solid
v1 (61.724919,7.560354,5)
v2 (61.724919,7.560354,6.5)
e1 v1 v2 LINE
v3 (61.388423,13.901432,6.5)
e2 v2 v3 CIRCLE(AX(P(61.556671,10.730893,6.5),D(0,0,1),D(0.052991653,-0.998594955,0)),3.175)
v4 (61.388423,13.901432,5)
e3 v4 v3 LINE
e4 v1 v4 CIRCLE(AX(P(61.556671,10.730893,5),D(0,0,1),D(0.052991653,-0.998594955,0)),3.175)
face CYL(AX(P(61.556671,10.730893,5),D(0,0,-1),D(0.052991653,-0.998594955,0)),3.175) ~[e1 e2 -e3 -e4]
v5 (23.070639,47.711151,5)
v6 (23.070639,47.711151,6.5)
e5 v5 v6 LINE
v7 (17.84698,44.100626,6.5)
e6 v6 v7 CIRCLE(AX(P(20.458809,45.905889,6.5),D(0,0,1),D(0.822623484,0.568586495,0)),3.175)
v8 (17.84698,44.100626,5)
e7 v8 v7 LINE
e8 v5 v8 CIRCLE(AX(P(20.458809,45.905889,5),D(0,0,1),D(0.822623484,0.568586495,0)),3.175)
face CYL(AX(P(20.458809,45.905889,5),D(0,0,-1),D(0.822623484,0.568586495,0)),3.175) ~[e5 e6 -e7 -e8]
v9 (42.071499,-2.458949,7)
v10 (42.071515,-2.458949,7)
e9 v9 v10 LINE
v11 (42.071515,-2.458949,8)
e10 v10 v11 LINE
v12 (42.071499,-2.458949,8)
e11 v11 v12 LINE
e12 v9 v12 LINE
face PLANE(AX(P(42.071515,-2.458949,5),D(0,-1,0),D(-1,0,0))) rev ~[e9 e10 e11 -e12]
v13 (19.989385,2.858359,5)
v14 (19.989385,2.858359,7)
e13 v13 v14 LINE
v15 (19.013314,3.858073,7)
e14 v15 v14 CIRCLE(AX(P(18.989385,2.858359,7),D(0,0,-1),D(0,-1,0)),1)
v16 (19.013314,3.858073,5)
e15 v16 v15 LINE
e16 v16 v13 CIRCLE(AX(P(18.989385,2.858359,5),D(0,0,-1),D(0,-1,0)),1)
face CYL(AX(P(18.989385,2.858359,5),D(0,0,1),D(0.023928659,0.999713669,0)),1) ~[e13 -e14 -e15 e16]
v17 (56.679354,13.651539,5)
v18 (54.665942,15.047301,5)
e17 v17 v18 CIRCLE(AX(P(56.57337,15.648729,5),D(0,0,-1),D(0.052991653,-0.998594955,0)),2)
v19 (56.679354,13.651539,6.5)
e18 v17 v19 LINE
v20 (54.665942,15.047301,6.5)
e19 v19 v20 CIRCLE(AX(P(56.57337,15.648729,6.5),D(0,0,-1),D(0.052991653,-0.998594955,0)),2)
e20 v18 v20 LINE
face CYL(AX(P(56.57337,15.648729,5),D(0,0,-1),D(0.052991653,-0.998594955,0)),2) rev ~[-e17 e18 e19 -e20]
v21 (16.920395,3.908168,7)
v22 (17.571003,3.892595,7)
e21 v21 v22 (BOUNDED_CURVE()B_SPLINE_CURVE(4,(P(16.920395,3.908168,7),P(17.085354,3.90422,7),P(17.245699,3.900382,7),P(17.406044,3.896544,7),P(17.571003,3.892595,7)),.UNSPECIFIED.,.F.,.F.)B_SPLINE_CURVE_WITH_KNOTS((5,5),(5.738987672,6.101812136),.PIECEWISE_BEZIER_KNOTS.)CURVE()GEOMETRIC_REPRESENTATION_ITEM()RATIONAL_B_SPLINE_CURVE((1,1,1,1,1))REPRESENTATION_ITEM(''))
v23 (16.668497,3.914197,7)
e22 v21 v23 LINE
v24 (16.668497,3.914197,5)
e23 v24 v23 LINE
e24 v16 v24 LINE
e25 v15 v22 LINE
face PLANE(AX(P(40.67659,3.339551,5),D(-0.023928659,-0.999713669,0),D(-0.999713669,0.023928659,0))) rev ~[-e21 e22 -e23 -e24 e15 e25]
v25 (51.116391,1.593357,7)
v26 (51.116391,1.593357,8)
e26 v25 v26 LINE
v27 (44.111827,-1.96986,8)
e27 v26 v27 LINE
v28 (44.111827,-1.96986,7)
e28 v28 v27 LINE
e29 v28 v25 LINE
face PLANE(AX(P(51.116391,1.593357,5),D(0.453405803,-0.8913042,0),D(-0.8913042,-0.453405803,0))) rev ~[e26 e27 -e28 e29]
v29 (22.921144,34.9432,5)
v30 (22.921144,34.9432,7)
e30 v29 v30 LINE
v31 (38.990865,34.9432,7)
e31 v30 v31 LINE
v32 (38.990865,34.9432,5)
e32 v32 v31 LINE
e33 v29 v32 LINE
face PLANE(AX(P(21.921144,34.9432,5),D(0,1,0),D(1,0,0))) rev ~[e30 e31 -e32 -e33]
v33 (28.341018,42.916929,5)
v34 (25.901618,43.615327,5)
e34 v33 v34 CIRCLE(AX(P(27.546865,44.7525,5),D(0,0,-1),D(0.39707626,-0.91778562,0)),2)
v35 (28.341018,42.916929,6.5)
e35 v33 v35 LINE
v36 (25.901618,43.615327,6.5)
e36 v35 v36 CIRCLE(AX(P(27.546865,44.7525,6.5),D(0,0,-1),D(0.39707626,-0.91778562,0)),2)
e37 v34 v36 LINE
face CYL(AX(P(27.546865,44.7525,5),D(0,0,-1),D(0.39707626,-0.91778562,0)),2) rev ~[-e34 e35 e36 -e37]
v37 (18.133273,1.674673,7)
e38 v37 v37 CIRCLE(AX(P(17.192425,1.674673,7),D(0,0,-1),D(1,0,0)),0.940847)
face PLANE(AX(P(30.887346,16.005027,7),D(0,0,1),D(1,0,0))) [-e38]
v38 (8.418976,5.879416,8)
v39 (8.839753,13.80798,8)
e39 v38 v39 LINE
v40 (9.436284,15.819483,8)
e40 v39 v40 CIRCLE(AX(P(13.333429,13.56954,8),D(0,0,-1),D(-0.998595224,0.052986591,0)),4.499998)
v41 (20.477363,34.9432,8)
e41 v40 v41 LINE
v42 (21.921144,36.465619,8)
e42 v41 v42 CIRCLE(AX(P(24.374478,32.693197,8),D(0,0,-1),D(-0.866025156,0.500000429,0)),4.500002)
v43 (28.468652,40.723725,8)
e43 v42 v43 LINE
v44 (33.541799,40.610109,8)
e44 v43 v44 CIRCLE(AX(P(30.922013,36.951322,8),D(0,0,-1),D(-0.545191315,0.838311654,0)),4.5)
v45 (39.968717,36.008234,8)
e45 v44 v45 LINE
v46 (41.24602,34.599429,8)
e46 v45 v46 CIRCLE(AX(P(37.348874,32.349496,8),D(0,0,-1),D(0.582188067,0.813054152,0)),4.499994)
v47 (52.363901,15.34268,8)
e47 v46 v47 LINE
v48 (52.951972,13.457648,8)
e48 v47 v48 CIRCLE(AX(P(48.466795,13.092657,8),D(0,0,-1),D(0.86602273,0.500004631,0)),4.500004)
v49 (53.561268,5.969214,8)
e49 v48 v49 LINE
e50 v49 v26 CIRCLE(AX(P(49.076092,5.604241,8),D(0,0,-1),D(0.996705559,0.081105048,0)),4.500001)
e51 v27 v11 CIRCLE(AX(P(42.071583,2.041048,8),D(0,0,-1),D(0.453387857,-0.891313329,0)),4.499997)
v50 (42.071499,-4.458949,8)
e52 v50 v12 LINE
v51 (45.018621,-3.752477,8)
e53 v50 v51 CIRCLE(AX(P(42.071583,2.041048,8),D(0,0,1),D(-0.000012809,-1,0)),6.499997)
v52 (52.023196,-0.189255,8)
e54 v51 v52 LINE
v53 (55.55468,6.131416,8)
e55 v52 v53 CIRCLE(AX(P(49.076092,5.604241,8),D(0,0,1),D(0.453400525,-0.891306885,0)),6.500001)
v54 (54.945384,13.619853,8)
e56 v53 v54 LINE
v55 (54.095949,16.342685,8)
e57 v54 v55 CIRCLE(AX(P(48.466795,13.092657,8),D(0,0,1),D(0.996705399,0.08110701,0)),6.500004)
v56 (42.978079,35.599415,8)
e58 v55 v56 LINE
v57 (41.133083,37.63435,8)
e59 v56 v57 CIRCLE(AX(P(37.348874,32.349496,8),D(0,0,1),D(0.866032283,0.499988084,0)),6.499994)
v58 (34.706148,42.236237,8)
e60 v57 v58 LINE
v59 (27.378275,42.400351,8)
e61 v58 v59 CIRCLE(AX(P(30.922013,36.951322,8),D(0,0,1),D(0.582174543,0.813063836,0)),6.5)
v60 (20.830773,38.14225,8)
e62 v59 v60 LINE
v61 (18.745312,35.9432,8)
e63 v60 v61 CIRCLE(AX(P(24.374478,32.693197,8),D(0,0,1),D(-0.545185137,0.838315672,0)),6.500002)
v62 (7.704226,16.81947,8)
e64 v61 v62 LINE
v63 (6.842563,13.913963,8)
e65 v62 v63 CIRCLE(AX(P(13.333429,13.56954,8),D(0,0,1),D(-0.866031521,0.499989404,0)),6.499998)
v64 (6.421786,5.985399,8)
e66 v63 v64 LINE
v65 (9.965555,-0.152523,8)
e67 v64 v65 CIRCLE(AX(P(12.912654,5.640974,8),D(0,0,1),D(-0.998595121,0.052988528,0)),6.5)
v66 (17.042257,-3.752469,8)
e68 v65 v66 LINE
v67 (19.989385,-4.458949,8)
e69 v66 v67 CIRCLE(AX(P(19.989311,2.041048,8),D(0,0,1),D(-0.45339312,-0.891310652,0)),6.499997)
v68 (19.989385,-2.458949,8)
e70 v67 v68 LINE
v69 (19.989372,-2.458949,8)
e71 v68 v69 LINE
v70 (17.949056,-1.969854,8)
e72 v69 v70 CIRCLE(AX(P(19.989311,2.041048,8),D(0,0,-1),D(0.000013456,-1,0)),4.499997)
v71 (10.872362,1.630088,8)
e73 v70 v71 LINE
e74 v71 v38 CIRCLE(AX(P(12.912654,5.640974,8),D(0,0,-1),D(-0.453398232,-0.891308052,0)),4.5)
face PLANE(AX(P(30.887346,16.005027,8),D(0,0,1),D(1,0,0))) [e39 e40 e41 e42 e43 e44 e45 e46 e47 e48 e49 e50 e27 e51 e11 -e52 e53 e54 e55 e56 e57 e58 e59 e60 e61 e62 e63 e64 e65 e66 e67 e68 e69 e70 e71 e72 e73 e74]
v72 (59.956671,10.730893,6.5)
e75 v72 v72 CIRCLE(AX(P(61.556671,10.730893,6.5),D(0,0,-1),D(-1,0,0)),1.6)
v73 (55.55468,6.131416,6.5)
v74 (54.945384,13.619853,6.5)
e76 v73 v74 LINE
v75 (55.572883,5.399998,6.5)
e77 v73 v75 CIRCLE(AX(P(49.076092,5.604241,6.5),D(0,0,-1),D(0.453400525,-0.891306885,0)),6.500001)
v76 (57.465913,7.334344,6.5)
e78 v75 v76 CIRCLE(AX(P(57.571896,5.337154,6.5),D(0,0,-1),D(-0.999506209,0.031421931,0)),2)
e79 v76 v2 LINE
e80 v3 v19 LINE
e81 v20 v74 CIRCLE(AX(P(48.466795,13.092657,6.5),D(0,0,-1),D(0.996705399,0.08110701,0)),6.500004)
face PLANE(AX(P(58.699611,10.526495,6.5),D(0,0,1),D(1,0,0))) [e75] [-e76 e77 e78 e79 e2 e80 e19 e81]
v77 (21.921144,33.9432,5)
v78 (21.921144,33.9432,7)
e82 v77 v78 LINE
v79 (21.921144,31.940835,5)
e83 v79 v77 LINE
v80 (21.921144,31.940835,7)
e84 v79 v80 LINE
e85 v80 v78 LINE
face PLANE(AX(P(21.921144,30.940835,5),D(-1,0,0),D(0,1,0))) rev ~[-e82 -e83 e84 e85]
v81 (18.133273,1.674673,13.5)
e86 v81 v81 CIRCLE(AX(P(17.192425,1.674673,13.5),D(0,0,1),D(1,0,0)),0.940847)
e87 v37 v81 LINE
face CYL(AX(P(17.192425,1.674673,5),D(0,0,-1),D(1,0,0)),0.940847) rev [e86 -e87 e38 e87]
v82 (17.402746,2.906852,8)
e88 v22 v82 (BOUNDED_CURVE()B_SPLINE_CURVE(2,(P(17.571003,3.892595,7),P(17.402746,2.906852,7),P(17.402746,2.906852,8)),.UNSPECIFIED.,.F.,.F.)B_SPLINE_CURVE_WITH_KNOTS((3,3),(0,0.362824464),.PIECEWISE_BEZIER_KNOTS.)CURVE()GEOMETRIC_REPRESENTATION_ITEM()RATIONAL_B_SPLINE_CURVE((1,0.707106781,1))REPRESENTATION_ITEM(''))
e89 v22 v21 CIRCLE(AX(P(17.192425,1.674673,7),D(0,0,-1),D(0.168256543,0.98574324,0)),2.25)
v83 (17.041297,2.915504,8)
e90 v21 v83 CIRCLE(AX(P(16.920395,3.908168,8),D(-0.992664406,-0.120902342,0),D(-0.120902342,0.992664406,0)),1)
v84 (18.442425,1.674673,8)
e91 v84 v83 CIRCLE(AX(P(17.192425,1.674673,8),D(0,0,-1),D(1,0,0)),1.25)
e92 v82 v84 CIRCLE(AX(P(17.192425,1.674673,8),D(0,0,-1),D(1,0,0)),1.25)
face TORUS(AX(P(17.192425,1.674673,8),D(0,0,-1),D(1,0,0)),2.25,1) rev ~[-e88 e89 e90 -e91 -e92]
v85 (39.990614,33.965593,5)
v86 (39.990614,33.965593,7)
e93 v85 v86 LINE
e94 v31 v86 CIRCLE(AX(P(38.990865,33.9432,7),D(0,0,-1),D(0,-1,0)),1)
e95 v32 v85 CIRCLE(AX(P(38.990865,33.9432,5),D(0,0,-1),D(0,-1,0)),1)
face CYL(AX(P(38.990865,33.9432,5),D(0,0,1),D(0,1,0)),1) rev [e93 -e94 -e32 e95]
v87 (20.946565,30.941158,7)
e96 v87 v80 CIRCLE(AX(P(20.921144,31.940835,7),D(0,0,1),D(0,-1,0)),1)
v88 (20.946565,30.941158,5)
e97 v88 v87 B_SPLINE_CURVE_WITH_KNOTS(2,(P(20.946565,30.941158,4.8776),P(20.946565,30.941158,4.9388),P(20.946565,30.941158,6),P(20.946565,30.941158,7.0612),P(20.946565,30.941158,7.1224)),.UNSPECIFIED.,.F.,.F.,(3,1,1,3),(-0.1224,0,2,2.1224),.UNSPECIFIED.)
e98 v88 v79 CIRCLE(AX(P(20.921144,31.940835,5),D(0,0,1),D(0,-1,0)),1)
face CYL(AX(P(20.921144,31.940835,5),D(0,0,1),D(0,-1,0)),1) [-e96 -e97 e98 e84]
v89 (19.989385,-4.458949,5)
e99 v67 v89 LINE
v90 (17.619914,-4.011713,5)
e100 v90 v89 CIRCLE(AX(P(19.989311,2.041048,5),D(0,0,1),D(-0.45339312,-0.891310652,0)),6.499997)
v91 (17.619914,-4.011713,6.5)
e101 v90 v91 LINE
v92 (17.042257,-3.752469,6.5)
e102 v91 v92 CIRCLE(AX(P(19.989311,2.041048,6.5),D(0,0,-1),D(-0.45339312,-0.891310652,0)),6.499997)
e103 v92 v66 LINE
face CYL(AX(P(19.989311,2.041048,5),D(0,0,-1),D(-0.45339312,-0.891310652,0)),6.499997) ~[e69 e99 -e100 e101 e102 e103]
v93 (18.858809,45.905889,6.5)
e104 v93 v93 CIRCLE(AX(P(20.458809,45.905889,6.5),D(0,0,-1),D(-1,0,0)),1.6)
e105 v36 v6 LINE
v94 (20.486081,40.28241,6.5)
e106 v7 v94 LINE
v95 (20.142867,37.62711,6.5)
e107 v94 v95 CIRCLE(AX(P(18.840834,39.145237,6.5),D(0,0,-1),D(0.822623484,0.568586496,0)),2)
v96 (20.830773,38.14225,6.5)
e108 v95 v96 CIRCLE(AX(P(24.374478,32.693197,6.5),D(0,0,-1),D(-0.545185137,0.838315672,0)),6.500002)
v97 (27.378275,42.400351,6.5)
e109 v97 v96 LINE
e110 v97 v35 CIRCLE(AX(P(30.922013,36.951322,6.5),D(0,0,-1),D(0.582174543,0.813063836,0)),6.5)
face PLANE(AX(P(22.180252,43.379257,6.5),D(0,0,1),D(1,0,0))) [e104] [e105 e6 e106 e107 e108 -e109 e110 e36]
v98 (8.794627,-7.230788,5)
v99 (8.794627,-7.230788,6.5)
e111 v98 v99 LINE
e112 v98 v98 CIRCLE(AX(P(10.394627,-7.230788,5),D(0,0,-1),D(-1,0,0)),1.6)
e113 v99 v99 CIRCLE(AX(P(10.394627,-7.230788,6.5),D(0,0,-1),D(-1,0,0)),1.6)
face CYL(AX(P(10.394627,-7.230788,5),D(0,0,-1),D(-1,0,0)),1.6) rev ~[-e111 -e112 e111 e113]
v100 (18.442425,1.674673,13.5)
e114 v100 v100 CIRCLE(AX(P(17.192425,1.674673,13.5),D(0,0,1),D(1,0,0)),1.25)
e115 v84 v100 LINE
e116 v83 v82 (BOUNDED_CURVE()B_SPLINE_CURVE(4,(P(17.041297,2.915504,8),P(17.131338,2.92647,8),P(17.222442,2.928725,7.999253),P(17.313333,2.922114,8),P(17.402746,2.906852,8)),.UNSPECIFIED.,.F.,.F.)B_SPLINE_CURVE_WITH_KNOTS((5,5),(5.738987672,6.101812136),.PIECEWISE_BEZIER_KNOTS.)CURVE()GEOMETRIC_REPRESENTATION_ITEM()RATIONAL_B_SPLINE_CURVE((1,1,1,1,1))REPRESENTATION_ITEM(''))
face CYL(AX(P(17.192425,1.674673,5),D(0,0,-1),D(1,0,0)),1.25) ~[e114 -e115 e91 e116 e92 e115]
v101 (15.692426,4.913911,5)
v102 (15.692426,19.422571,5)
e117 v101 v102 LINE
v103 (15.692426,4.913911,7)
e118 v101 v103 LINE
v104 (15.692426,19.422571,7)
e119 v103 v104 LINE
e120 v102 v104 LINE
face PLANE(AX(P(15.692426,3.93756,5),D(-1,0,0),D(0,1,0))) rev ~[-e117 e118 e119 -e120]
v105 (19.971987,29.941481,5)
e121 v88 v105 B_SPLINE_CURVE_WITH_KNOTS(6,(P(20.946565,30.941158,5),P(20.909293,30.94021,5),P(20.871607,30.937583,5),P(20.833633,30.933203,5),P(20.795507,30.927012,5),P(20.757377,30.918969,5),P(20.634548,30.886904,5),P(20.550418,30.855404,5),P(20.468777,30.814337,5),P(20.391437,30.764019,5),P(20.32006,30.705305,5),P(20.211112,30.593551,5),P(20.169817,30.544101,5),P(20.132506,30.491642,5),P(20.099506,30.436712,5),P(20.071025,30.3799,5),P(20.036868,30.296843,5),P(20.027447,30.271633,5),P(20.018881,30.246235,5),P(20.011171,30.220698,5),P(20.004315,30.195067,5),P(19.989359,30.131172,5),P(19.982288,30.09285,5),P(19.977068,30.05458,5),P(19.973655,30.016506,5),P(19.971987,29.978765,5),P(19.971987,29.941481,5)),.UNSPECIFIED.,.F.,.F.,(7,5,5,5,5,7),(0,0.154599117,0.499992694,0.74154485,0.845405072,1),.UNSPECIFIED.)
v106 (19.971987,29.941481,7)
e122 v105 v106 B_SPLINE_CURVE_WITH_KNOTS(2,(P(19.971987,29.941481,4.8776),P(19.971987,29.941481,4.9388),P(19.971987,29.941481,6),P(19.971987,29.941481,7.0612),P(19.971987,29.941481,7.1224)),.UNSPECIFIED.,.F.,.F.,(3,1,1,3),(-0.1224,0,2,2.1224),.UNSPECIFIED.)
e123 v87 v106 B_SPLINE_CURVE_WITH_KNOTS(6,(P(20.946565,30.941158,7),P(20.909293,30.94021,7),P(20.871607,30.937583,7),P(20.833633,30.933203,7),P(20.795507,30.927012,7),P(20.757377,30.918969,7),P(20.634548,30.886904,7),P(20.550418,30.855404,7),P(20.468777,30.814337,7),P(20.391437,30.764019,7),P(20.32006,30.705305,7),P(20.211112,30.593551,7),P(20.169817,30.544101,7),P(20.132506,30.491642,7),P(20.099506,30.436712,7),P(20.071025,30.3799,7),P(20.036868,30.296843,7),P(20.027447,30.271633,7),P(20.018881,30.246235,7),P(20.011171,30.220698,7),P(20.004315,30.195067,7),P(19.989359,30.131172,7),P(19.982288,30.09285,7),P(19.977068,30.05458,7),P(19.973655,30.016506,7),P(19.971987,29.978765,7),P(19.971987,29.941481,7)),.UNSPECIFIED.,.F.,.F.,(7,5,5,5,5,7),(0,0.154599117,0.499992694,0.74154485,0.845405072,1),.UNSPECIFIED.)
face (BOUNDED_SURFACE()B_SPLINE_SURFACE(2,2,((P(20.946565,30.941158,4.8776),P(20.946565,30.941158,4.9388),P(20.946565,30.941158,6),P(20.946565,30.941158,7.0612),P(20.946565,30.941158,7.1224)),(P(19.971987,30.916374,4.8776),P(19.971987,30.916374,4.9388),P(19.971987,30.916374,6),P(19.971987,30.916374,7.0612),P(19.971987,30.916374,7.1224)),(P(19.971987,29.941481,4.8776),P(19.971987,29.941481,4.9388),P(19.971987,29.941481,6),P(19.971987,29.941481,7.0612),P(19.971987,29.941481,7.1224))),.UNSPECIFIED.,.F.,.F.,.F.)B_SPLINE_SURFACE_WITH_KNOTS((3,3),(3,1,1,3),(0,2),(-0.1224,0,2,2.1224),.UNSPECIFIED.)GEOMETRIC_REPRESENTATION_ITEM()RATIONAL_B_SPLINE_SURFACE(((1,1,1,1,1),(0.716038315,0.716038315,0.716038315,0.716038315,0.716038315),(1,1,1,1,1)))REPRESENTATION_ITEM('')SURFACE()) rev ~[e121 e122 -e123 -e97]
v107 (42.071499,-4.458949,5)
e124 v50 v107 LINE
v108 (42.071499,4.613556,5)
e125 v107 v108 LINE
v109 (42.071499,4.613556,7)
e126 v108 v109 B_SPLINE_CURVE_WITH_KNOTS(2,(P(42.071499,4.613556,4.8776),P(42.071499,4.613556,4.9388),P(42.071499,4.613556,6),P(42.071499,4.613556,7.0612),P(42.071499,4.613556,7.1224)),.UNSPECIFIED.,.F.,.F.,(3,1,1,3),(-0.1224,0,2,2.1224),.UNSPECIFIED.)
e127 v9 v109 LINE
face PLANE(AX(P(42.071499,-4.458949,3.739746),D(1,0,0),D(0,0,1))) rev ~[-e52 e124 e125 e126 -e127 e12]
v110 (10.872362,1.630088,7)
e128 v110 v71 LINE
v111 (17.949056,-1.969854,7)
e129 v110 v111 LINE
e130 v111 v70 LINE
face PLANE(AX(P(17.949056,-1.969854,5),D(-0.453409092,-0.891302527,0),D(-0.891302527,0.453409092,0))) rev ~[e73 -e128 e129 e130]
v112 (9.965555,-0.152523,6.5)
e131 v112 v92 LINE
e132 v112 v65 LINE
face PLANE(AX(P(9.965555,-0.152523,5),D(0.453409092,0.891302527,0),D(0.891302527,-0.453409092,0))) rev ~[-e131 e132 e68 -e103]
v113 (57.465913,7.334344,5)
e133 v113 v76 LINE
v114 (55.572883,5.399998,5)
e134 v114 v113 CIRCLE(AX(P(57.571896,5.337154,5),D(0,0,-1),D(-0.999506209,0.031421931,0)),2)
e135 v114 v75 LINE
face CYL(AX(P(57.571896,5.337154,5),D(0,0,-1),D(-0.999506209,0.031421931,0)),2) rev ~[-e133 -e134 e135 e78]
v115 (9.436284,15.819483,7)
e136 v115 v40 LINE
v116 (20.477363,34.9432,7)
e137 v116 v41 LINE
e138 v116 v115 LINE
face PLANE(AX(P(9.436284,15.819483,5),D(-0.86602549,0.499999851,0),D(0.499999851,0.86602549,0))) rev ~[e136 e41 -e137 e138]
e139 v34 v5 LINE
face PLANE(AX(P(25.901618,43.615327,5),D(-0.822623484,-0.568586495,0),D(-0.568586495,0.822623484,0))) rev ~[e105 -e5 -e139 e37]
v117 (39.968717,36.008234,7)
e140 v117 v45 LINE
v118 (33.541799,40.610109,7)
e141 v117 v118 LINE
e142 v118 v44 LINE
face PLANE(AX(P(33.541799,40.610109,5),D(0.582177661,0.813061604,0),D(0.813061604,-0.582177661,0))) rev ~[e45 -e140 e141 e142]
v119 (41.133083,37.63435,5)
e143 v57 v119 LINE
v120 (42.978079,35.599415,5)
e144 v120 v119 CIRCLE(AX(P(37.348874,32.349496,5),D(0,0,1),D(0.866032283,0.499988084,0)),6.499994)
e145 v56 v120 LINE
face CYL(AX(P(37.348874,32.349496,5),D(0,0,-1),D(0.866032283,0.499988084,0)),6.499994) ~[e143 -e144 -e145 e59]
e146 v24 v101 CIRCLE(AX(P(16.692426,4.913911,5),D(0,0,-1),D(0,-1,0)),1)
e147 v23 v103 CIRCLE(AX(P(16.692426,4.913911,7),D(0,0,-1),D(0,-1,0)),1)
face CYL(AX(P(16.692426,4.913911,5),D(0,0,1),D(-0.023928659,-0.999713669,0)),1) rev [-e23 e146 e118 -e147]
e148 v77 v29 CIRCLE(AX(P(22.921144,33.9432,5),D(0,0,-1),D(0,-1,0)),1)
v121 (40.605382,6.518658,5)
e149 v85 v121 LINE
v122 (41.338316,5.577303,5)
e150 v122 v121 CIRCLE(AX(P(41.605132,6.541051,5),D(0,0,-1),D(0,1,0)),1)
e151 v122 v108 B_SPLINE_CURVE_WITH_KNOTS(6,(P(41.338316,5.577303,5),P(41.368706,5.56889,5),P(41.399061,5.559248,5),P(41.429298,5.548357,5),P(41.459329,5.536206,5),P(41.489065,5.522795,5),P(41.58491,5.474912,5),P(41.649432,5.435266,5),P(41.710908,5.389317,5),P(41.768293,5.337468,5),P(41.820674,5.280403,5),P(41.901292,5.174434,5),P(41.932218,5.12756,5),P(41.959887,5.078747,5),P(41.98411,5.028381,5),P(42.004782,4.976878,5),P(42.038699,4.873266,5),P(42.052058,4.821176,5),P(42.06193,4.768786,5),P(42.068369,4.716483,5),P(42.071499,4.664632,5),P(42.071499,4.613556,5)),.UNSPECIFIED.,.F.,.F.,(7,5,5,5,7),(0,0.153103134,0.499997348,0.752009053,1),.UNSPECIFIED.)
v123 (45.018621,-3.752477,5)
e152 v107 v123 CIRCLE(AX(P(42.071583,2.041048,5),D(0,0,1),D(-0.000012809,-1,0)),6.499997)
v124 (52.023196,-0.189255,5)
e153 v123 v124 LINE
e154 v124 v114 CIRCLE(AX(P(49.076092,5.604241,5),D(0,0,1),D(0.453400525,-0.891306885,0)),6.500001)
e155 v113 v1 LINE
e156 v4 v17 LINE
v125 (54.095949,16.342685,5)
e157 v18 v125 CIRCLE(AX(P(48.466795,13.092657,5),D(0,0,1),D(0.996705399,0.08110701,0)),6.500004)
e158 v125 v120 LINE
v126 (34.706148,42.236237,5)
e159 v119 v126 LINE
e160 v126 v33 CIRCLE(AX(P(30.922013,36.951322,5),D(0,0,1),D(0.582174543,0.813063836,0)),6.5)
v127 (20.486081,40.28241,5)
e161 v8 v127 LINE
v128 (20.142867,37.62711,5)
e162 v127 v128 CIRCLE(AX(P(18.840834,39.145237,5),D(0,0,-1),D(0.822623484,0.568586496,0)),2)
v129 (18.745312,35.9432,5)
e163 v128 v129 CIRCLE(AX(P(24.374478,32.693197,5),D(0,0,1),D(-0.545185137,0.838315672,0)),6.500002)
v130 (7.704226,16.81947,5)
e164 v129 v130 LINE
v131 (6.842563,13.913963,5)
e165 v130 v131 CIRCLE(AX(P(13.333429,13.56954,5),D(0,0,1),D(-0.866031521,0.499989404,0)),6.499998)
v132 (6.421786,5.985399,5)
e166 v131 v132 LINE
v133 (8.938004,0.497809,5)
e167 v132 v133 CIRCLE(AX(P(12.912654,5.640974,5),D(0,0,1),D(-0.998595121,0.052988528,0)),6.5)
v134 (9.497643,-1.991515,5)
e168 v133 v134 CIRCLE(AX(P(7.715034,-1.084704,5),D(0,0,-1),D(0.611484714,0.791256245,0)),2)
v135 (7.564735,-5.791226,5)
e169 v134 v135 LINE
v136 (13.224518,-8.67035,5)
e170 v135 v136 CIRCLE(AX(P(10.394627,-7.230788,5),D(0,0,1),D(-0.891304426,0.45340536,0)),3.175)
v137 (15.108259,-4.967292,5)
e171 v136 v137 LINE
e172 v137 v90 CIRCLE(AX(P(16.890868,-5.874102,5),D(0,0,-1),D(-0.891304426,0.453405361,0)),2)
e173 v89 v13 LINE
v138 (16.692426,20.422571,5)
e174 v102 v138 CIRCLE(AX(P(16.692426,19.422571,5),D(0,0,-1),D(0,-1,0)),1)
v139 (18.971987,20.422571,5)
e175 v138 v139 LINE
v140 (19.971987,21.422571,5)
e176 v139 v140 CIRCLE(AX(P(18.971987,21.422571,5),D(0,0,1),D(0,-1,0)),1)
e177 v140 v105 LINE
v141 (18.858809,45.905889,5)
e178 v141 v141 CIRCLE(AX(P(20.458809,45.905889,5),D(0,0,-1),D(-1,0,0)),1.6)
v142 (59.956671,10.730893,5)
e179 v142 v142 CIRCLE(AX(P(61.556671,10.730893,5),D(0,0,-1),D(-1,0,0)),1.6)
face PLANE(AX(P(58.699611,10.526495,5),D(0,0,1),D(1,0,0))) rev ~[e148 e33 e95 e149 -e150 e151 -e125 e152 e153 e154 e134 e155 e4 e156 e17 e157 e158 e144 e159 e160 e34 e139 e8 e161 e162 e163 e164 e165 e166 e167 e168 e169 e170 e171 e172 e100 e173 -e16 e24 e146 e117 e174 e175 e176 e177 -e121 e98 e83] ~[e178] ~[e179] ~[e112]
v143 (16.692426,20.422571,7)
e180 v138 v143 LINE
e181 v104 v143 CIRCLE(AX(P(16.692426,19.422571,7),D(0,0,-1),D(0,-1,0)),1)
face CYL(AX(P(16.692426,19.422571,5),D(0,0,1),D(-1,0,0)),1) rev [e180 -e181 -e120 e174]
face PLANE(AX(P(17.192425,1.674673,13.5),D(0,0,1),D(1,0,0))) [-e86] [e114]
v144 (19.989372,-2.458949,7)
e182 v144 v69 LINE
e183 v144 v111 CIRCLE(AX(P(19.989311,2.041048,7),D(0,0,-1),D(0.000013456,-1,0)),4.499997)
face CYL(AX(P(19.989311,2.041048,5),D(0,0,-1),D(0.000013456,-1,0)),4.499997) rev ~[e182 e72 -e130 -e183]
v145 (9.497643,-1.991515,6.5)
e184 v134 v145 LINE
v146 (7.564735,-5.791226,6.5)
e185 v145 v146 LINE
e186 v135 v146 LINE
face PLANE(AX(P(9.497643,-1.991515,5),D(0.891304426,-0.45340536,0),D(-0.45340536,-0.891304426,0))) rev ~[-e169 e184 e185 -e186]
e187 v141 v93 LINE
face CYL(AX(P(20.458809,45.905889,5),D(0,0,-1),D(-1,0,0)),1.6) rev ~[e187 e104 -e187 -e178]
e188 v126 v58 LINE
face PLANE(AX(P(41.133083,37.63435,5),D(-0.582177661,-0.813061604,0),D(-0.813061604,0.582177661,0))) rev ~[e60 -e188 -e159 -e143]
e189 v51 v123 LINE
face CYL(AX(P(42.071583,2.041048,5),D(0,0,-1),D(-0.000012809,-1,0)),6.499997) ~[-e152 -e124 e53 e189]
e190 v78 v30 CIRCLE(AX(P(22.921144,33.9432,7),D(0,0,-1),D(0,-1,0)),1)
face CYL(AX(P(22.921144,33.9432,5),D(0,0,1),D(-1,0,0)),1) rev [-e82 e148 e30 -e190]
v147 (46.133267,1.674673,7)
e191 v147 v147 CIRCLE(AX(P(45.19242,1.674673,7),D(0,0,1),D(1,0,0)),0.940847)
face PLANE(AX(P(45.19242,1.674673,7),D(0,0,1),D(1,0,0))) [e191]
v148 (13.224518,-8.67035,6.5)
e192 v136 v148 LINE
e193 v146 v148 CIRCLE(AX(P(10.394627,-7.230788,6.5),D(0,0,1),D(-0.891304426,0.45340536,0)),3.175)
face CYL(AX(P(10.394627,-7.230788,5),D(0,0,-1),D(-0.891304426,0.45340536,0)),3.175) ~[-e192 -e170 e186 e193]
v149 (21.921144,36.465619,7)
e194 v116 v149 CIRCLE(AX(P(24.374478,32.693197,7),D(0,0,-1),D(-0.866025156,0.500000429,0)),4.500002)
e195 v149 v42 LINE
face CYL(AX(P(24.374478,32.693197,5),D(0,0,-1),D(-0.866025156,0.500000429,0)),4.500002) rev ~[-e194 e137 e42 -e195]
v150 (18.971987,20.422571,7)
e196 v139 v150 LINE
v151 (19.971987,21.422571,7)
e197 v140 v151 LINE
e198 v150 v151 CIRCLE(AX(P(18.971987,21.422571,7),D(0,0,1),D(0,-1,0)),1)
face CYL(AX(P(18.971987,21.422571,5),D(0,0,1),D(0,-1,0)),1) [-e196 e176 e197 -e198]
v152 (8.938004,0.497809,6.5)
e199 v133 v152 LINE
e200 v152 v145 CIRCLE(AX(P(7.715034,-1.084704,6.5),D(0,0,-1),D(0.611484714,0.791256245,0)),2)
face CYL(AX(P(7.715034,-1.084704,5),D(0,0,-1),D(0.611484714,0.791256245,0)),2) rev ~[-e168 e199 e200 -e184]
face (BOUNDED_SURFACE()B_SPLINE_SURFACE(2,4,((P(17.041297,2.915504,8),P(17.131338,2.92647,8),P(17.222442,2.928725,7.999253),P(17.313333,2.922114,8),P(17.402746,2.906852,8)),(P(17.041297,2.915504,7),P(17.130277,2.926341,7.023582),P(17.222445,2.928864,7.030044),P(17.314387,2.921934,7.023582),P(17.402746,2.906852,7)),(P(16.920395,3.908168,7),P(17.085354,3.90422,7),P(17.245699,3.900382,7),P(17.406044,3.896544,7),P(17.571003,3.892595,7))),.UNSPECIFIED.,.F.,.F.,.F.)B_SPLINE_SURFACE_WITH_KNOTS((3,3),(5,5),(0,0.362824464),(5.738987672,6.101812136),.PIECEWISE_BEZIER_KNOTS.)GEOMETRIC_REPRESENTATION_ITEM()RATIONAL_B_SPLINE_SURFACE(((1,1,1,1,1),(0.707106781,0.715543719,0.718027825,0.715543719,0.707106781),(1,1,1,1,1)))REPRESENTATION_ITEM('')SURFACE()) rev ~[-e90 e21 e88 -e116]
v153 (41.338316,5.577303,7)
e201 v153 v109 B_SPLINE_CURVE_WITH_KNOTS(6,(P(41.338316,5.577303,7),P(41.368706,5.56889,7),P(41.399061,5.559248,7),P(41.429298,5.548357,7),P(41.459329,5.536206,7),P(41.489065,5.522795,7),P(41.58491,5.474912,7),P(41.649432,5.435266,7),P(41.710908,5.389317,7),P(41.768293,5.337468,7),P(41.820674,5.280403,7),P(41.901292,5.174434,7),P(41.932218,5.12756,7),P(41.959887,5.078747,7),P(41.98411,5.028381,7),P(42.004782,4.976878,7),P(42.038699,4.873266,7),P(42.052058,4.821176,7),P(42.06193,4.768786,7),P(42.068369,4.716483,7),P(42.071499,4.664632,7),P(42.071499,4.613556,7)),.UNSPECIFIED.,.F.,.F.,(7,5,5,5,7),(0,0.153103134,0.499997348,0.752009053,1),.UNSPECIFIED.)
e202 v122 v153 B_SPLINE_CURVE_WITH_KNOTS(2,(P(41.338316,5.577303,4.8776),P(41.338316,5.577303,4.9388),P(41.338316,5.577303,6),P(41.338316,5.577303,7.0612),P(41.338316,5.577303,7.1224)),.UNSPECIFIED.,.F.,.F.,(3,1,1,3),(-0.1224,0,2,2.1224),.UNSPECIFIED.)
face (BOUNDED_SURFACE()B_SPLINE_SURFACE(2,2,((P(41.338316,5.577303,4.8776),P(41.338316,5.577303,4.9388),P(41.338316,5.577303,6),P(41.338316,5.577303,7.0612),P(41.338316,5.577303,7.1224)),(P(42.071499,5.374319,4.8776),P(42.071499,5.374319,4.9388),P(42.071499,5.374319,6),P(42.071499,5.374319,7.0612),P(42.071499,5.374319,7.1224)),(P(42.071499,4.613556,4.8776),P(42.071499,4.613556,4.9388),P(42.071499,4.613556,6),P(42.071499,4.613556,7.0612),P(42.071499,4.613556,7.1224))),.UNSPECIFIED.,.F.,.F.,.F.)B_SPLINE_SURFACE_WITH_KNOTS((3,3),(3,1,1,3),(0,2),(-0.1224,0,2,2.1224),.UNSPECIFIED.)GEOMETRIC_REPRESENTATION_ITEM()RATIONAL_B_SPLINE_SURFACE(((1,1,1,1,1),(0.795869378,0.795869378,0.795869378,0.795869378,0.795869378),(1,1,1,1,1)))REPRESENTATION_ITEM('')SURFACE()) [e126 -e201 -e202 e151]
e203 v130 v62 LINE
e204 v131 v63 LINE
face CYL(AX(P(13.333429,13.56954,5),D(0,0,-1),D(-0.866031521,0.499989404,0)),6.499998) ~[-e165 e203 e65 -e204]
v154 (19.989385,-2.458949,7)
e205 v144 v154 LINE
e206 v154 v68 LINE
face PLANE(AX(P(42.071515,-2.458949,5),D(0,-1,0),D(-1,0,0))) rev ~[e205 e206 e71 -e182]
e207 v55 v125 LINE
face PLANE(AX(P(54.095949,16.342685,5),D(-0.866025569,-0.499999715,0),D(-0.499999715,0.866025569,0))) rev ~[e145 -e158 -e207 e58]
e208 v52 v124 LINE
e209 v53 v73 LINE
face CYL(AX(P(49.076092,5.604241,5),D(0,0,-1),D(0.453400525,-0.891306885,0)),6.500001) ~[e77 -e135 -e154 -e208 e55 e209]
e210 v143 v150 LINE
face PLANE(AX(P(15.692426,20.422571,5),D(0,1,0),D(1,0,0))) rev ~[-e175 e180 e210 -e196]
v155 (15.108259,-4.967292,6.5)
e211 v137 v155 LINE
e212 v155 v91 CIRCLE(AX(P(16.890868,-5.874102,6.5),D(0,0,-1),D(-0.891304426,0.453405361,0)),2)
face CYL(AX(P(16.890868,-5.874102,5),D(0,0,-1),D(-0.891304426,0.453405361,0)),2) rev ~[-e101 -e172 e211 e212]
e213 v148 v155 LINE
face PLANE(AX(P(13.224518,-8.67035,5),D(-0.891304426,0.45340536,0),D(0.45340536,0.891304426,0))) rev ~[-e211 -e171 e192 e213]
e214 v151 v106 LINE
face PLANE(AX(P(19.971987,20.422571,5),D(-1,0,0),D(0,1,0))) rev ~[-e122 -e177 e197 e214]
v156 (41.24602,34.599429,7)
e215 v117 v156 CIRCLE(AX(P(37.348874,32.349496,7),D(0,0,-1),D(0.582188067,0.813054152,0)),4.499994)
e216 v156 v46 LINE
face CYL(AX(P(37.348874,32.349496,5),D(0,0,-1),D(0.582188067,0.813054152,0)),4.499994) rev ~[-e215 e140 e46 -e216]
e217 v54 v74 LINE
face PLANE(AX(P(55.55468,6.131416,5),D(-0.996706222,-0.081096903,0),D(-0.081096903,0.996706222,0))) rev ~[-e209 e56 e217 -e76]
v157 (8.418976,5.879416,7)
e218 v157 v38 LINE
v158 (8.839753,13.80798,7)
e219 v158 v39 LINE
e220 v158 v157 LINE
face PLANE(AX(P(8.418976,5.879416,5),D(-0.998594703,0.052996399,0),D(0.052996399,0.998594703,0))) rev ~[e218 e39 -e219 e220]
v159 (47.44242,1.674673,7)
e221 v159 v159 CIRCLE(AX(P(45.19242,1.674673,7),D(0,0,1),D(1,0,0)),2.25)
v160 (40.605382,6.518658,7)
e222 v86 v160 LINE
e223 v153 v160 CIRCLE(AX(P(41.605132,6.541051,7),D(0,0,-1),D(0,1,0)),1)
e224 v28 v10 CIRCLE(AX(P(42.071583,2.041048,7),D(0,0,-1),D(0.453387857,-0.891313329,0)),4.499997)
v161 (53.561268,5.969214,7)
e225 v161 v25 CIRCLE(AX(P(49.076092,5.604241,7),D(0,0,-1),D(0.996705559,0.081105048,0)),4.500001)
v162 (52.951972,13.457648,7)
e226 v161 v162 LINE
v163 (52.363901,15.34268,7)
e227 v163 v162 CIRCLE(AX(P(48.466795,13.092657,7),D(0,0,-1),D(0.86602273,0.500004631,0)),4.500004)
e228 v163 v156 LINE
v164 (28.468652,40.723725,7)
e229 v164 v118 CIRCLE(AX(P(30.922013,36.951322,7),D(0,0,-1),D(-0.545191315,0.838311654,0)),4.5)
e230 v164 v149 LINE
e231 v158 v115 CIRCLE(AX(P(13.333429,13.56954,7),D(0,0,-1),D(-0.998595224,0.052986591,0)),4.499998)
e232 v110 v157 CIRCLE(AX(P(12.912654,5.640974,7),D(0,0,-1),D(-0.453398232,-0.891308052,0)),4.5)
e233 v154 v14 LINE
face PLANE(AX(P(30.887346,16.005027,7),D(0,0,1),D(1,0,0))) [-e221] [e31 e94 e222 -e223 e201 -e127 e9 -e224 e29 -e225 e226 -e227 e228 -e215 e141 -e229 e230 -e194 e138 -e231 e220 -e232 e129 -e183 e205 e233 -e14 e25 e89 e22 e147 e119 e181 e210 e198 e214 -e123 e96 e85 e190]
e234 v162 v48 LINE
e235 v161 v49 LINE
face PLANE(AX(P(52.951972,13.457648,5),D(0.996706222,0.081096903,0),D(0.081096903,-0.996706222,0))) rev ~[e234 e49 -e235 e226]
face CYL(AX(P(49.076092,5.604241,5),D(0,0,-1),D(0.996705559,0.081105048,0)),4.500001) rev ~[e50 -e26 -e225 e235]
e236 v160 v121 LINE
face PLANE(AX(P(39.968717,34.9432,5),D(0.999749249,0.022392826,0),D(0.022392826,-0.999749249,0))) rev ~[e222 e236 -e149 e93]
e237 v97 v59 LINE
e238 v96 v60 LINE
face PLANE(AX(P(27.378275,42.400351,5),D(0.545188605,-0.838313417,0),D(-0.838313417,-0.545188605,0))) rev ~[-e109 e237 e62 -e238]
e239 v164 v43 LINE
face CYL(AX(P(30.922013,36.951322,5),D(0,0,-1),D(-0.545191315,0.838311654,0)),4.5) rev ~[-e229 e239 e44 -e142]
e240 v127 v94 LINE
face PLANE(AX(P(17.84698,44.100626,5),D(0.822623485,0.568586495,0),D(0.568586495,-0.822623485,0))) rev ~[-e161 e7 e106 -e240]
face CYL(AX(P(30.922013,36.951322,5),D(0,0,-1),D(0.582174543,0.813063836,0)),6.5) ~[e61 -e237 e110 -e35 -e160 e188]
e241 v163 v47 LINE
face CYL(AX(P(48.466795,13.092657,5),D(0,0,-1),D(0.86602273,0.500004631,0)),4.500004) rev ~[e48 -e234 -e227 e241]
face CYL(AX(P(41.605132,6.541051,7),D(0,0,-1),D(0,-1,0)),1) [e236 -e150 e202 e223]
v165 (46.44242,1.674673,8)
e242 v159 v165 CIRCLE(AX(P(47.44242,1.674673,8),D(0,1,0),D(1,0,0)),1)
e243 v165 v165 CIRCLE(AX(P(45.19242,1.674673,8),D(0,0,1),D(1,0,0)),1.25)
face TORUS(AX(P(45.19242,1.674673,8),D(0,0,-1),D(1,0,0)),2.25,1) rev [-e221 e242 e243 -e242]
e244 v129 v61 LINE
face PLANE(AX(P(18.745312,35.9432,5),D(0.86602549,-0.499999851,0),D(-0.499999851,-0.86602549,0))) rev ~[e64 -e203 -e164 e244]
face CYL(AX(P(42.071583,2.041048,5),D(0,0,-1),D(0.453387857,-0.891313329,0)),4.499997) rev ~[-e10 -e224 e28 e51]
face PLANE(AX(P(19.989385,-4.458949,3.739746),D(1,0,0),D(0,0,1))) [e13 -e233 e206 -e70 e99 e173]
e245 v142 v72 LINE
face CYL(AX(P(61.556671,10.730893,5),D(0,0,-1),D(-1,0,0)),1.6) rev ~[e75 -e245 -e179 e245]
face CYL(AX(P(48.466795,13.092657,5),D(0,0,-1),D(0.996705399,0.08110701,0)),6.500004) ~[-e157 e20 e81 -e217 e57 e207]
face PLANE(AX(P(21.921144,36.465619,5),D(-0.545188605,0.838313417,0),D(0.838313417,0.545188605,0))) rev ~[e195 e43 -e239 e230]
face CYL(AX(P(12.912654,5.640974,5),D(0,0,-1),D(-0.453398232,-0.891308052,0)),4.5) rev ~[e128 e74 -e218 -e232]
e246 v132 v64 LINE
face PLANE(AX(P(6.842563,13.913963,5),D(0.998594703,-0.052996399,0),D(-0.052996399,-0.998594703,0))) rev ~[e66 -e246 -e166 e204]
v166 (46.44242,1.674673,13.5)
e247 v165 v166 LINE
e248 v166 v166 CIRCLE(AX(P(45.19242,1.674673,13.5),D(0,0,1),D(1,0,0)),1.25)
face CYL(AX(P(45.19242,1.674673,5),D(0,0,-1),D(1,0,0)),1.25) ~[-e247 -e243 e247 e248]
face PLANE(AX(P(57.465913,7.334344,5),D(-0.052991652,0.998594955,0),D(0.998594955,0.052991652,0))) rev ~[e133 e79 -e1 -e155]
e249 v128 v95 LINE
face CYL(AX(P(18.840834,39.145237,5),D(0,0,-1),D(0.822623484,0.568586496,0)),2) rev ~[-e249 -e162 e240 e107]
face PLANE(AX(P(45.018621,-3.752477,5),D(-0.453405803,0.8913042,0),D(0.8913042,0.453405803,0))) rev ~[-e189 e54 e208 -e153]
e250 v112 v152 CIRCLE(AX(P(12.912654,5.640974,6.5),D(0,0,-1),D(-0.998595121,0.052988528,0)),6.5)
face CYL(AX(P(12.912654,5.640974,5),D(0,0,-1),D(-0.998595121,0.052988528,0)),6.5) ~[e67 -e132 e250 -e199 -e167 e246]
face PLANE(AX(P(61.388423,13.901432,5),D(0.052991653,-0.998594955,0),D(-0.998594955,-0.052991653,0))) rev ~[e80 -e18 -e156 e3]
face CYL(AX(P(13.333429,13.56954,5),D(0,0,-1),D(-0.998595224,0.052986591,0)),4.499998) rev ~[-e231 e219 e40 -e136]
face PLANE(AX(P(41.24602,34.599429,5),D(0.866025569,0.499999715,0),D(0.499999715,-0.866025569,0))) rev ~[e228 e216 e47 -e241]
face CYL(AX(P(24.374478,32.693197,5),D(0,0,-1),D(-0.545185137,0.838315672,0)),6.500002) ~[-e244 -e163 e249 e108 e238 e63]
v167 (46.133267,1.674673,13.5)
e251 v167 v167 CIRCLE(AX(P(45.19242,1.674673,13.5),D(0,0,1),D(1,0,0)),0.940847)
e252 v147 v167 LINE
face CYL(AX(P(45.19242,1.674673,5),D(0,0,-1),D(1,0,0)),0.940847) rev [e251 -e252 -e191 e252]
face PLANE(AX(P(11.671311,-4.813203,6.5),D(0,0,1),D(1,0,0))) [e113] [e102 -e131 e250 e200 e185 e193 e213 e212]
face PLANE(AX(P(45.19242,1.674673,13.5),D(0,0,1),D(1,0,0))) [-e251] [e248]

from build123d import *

# Parameters (mm, degrees)
SKETCH2_R             = 0.940847183
BOSS_EXTRUDE1_DEPTH   = 2
SKETCH2_R_2           = 1.25
BOSS_EXTRUDE1_2_DEPTH = 2
BOSS_EXTRUDE3_DEPTH   = 3
SKETCH2_7_R           = 1.25
SKETCH2_7_R_2         = 0.940847183
BOSS_EXTRUDE4_DEPTH   = 8.5
SKETCH3_R             = 1.6
BOSS_EXTRUDE5_DEPTH   = 1.5
FILLET3_R             = 1
FILLET4_R             = 1
FILLET5_R             = 1
SKETCH4_W             = 22.082114238
SKETCH4_H             = 4.26025432
CUT_EXTRUDE1_DEPTH    = 10
FILLET6_R             = 1
FILLET7_R             = 1


with BuildPart() as part:
    # Sketch2 → Boss-Extrude1 (new body)
    with BuildSketch(Plane.XY.offset(5)):
        with Locations((45.192420188, 1.674673151)):
            Circle(SKETCH2_R)
    extrude(amount=BOSS_EXTRUDE1_DEPTH)


with BuildPart() as body_2:
    # Sketch2 → Boss-Extrude1 2 (new body)
    with BuildSketch(Plane.XY.offset(5)):
        with BuildLine():
            Line((41.133082748, 37.634349985), (34.706148145, 42.236237142))
            ThreePointArc((34.706148145, 42.236237142), (31.067550303, 43.449692764), (27.378275076, 42.400351494))
            Line((27.378275076, 42.400351494), (20.830773346, 38.142250332))
            ThreePointArc((20.830773346, 38.142250332), (19.658086914, 37.165968028), (18.745312064, 35.94319958))
            Line((18.745312064, 35.94319958), (7.704226172, 16.81947026))
            ThreePointArc((7.704226172, 16.81947026), (7.101694806, 15.417636125), (6.842562909, 13.91396274))
            Line((6.842562909, 13.91396274), (6.421786289, 5.985399395))
            ThreePointArc((6.421786289, 5.985399395), (7.283504465, 2.390948015), (9.965555118, -0.152522691))
            Line((9.965555118, -0.152522691), (17.042257133, -3.752468769))
            ThreePointArc((17.042257133, -3.752468769), (18.474071457, -4.279870659), (19.989385244, -4.458949249))
            Line((19.989385244, -4.458949249), (42.071499482, -4.458949249))
            ThreePointArc((42.071499482, -4.458949249), (43.586809148, -4.279873865), (45.018620578, -3.752477043))
            Line((45.018620578, -3.752477043), (52.023196139, -0.18925451))
            ThreePointArc((52.023196139, -0.18925451), (54.750476182, 2.433850072), (55.55467988, 6.131415554))
            Line((55.55467988, 6.131415554), (54.945383885, 13.619853326))
            ThreePointArc((54.945383885, 13.619853326), (54.671858346, 15.028435929), (54.095948871, 16.342684554))
            Line((54.095948871, 16.342684554), (42.978078812, 35.599415021))
            ThreePointArc((42.978078812, 35.599415021), (42.164300135, 36.715454096), (41.133082748, 37.634349985))
        make_face()
        with Locations((45.192420188, 1.674673151)):
            Circle(SKETCH2_R_2, mode=Mode.SUBTRACT)
        Polygon((21.92114362, 34.943199877), (39.968717021, 34.943199877), (40.676589536, 3.339551379), (15.692425848, 3.937560139), (15.692425848, 20.422570873), (19.971987097, 20.422570873), (19.971987097, 30.940834749), (21.92114362, 30.940834749), align=None, mode=Mode.SUBTRACT)
    extrude(amount=BOSS_EXTRUDE1_2_DEPTH)

    # Sketch2<4> → Boss-Extrude3 (add)
    with BuildSketch(Plane.XY.offset(5)):
        with BuildLine():
            Line((41.133082748, 37.634349985), (34.706148145, 42.236237142))
            ThreePointArc((34.706148145, 42.236237142), (31.067550303, 43.449692764), (27.378275076, 42.400351494))
            Line((27.378275076, 42.400351494), (20.830773346, 38.142250332))
            ThreePointArc((20.830773346, 38.142250332), (19.658086914, 37.165968028), (18.745312064, 35.94319958))
            Line((18.745312064, 35.94319958), (7.704226172, 16.81947026))
            ThreePointArc((7.704226172, 16.81947026), (7.101694806, 15.417636125), (6.842562909, 13.91396274))
            Line((6.842562909, 13.91396274), (6.421786289, 5.985399395))
            ThreePointArc((6.421786289, 5.985399395), (7.283504465, 2.390948015), (9.965555118, -0.152522691))
            Line((9.965555118, -0.152522691), (17.042257133, -3.752468769))
            ThreePointArc((17.042257133, -3.752468769), (18.474071457, -4.279870659), (19.989385244, -4.458949249))
            Line((19.989385244, -4.458949249), (42.071499482, -4.458949249))
            ThreePointArc((42.071499482, -4.458949249), (43.586809148, -4.279873865), (45.018620578, -3.752477043))
            Line((45.018620578, -3.752477043), (52.023196139, -0.18925451))
            ThreePointArc((52.023196139, -0.18925451), (54.750476182, 2.433850072), (55.55467988, 6.131415554))
            Line((55.55467988, 6.131415554), (54.945383885, 13.619853326))
            ThreePointArc((54.945383885, 13.619853326), (54.671858346, 15.028435929), (54.095948871, 16.342684554))
            Line((54.095948871, 16.342684554), (42.978078812, 35.599415021))
            ThreePointArc((42.978078812, 35.599415021), (42.164300135, 36.715454096), (41.133082748, 37.634349985))
        make_face()
        with BuildLine():
            Line((42.071514619, -2.458949249), (19.989371788, -2.458949249))
            ThreePointArc((19.989371788, -2.458949249), (18.940310927, -2.334974581), (17.949056442, -1.969854112))
            Line((17.949056442, -1.969854112), (10.872362442, 1.630087888))
            ThreePointArc((10.872362442, 1.630087888), (9.015554367, 3.390949582), (8.41897619, 5.8794159))
            Line((8.41897619, 5.8794159), (8.839752837, 13.807979751))
            ThreePointArc((8.839752837, 13.807979751), (9.019149806, 14.848983048), (9.436284279, 15.819482904))
            Line((9.436284279, 15.819482904), (20.477363044, 34.943199877))
            ThreePointArc((20.477363044, 34.943199877), (21.109284015, 35.789731503), (21.92114362, 36.465618987))
            Line((21.92114362, 36.465618987), (28.468652286, 40.72372466))
            ThreePointArc((28.468652286, 40.72372466), (31.022767484, 41.450194202), (33.54179906, 40.610109469))
            Line((33.54179906, 40.610109469), (39.968717021, 36.008234228))
            ThreePointArc((39.968717021, 36.008234228), (40.682635911, 35.37207361), (41.24601974, 34.599429336))
            Line((41.24601974, 34.599429336), (52.363900573, 15.342680208))
            ThreePointArc((52.363900573, 15.342680208), (52.762607381, 14.432817969), (52.951972413, 13.457647575))
            Line((52.951972413, 13.457647575), (53.561268099, 5.969213602))
            ThreePointArc((53.561268099, 5.969213602), (53.004512325, 3.409355177), (51.116390771, 1.593357064))
            Line((51.116390771, 1.593357064), (44.111826917, -1.969859513))
            ThreePointArc((44.111826917, -1.969859513), (43.120573578, -2.334976851), (42.071514619, -2.458949249))
        make_face(mode=Mode.SUBTRACT)
    extrude(amount=BOSS_EXTRUDE3_DEPTH)

    # Sketch2<7> → Boss-Extrude4 (add)
    with BuildSketch(Plane.XY.offset(5)):
        with Locations((45.192420188, 1.674673151)):
            Circle(SKETCH2_7_R)
        with Locations((45.192420188, 1.674673151)):
            Circle(SKETCH2_7_R_2, mode=Mode.SUBTRACT)
        with Locations((17.192425388, 1.674673151)):
            Circle(SKETCH2_7_R)
        with Locations((17.192425388, 1.674673151)):
            Circle(SKETCH2_7_R_2, mode=Mode.SUBTRACT)
    extrude(amount=BOSS_EXTRUDE4_DEPTH)

    # Sketch3 → Boss-Extrude5 (add)
    with BuildSketch(Plane(origin=(0, 0, 5), x_dir=(-1, 0, 0), z_dir=(0, 0, -1))):
        with BuildLine():
            Line((-57.465912559, 7.334344298), (-61.7249195, 7.560353667))
            ThreePointArc((-61.7249195, 7.560353667), (-64.727209986, 10.899141147), (-61.388422506, 13.901431633))
            Line((-61.388422506, 13.901431633), (-56.679353565, 13.651539178))
            ThreePointArc((-56.679353565, 13.651539178), (-55.433923512, 14.005056034), (-54.665941639, 15.047300739))
            Line((-54.665941639, 15.047300739), (-55.572883446, 5.399998251))
            ThreePointArc((-55.572883446, 5.399998251), (-56.142498996, 6.736019854), (-57.465912559, 7.334344298))
        make_face()
        with Locations((-61.556671003, 10.73089265)):
            Circle(SKETCH3_R, mode=Mode.SUBTRACT)
        with BuildLine():
            Line((-17.846979662, 44.100626478), (-20.486080778, 40.282409595))
            ThreePointArc((-20.486080778, 40.282409595), (-20.824333172, 38.888857435), (-20.142867401, 37.627109954))
            Line((-20.142867401, 37.627109954), (-28.341017566, 42.916928771))
            ThreePointArc((-28.341017566, 42.916928771), (-26.996383012, 42.829749498), (-25.901618076, 43.615327019))
            Line((-25.901618076, 43.615327019), (-23.070638788, 47.711150724))
            ThreePointArc((-23.070638788, 47.711150724), (-18.653547102, 48.517718164), (-17.846979662, 44.100626478))
        make_face()
        with Locations((-20.458809225, 45.905888601)):
            Circle(SKETCH3_R, mode=Mode.SUBTRACT)
        with BuildLine():
            Line((-13.224518296, -8.670350201), (-15.108259251, -4.967291533))
            ThreePointArc((-15.108259251, -4.967291533), (-16.179685102, -4.004819306), (-17.619913769, -4.011713354))
            Line((-17.619913769, -4.011713354), (-8.938003872, 0.497808514))
            ThreePointArc((-8.938003872, 0.497808514), (-9.666330862, -0.646021526), (-9.497643296, -1.991514696))
            Line((-9.497643296, -1.991514696), (-7.564735193, -5.791226163))
            ThreePointArc((-7.564735193, -5.791226163), (-8.955064726, -10.060679733), (-13.224518296, -8.670350201))
        make_face()
        with Locations((-10.394626745, -7.230788182)):
            Circle(SKETCH3_R, mode=Mode.SUBTRACT)
    extrude(amount=-BOSS_EXTRUDE5_DEPTH)

    # Fillet3
    fillet3_edges = [body_2.edges().sort_by_distance(p)[0] for p in [
        (15.942425388, 1.674673151, 7),
        (43.942420188, 1.674673151, 7),
    ]]
    fillet(fillet3_edges, radius=FILLET3_R)

    # Fillet4
    fillet4_edges = [body_2.edges().sort_by_distance(p)[0] for p in [
        (19.971987097, 20.422570873, 6),
        (15.692425848, 20.422570873, 6),
        (15.692425848, 3.937560139, 6),
        (40.676589536, 3.339551379, 6),
        (39.968717021, 34.943199877, 6),
        (21.92114362, 34.943199877, 6),
        (21.92114362, 30.940834749, 6),
    ]]
    fillet(fillet4_edges, radius=FILLET4_R)

    # Fillet5
    fillet5_edges = [body_2.edges().sort_by_distance(p)[0] for p in [
        (19.971987097, 30.940834749, 6),
    ]]
    fillet(fillet5_edges, radius=FILLET5_R)

    # Sketch4 → Cut-Extrude1 (cut)
    with BuildSketch(Plane.XZ.offset(4.458949249)):
        with Locations((31.030442363, 5.86987284)):
            Rectangle(SKETCH4_W, SKETCH4_H)
    extrude(amount=-CUT_EXTRUDE1_DEPTH, mode=Mode.SUBTRACT)

    # Fillet6
    fillet6_edges = [body_2.edges().sort_by_distance(p)[0] for p in [
        (19.989385244, 3.834710214, 6),
        (40.627279379, 5.541050751, 6),
    ]]
    fillet(fillet6_edges, radius=FILLET6_R)

    # Fillet7
    fillet7_edges = [body_2.edges().sort_by_distance(p)[0] for p in [
        (42.071499482, 5.541050751, 6),
    ]]
    fillet(fillet7_edges, radius=FILLET7_R)


with BuildPart() as part_1:
    add(part.part)

    # Combine1: union body 2
    add(body_2.part)


solid = part_1.part
